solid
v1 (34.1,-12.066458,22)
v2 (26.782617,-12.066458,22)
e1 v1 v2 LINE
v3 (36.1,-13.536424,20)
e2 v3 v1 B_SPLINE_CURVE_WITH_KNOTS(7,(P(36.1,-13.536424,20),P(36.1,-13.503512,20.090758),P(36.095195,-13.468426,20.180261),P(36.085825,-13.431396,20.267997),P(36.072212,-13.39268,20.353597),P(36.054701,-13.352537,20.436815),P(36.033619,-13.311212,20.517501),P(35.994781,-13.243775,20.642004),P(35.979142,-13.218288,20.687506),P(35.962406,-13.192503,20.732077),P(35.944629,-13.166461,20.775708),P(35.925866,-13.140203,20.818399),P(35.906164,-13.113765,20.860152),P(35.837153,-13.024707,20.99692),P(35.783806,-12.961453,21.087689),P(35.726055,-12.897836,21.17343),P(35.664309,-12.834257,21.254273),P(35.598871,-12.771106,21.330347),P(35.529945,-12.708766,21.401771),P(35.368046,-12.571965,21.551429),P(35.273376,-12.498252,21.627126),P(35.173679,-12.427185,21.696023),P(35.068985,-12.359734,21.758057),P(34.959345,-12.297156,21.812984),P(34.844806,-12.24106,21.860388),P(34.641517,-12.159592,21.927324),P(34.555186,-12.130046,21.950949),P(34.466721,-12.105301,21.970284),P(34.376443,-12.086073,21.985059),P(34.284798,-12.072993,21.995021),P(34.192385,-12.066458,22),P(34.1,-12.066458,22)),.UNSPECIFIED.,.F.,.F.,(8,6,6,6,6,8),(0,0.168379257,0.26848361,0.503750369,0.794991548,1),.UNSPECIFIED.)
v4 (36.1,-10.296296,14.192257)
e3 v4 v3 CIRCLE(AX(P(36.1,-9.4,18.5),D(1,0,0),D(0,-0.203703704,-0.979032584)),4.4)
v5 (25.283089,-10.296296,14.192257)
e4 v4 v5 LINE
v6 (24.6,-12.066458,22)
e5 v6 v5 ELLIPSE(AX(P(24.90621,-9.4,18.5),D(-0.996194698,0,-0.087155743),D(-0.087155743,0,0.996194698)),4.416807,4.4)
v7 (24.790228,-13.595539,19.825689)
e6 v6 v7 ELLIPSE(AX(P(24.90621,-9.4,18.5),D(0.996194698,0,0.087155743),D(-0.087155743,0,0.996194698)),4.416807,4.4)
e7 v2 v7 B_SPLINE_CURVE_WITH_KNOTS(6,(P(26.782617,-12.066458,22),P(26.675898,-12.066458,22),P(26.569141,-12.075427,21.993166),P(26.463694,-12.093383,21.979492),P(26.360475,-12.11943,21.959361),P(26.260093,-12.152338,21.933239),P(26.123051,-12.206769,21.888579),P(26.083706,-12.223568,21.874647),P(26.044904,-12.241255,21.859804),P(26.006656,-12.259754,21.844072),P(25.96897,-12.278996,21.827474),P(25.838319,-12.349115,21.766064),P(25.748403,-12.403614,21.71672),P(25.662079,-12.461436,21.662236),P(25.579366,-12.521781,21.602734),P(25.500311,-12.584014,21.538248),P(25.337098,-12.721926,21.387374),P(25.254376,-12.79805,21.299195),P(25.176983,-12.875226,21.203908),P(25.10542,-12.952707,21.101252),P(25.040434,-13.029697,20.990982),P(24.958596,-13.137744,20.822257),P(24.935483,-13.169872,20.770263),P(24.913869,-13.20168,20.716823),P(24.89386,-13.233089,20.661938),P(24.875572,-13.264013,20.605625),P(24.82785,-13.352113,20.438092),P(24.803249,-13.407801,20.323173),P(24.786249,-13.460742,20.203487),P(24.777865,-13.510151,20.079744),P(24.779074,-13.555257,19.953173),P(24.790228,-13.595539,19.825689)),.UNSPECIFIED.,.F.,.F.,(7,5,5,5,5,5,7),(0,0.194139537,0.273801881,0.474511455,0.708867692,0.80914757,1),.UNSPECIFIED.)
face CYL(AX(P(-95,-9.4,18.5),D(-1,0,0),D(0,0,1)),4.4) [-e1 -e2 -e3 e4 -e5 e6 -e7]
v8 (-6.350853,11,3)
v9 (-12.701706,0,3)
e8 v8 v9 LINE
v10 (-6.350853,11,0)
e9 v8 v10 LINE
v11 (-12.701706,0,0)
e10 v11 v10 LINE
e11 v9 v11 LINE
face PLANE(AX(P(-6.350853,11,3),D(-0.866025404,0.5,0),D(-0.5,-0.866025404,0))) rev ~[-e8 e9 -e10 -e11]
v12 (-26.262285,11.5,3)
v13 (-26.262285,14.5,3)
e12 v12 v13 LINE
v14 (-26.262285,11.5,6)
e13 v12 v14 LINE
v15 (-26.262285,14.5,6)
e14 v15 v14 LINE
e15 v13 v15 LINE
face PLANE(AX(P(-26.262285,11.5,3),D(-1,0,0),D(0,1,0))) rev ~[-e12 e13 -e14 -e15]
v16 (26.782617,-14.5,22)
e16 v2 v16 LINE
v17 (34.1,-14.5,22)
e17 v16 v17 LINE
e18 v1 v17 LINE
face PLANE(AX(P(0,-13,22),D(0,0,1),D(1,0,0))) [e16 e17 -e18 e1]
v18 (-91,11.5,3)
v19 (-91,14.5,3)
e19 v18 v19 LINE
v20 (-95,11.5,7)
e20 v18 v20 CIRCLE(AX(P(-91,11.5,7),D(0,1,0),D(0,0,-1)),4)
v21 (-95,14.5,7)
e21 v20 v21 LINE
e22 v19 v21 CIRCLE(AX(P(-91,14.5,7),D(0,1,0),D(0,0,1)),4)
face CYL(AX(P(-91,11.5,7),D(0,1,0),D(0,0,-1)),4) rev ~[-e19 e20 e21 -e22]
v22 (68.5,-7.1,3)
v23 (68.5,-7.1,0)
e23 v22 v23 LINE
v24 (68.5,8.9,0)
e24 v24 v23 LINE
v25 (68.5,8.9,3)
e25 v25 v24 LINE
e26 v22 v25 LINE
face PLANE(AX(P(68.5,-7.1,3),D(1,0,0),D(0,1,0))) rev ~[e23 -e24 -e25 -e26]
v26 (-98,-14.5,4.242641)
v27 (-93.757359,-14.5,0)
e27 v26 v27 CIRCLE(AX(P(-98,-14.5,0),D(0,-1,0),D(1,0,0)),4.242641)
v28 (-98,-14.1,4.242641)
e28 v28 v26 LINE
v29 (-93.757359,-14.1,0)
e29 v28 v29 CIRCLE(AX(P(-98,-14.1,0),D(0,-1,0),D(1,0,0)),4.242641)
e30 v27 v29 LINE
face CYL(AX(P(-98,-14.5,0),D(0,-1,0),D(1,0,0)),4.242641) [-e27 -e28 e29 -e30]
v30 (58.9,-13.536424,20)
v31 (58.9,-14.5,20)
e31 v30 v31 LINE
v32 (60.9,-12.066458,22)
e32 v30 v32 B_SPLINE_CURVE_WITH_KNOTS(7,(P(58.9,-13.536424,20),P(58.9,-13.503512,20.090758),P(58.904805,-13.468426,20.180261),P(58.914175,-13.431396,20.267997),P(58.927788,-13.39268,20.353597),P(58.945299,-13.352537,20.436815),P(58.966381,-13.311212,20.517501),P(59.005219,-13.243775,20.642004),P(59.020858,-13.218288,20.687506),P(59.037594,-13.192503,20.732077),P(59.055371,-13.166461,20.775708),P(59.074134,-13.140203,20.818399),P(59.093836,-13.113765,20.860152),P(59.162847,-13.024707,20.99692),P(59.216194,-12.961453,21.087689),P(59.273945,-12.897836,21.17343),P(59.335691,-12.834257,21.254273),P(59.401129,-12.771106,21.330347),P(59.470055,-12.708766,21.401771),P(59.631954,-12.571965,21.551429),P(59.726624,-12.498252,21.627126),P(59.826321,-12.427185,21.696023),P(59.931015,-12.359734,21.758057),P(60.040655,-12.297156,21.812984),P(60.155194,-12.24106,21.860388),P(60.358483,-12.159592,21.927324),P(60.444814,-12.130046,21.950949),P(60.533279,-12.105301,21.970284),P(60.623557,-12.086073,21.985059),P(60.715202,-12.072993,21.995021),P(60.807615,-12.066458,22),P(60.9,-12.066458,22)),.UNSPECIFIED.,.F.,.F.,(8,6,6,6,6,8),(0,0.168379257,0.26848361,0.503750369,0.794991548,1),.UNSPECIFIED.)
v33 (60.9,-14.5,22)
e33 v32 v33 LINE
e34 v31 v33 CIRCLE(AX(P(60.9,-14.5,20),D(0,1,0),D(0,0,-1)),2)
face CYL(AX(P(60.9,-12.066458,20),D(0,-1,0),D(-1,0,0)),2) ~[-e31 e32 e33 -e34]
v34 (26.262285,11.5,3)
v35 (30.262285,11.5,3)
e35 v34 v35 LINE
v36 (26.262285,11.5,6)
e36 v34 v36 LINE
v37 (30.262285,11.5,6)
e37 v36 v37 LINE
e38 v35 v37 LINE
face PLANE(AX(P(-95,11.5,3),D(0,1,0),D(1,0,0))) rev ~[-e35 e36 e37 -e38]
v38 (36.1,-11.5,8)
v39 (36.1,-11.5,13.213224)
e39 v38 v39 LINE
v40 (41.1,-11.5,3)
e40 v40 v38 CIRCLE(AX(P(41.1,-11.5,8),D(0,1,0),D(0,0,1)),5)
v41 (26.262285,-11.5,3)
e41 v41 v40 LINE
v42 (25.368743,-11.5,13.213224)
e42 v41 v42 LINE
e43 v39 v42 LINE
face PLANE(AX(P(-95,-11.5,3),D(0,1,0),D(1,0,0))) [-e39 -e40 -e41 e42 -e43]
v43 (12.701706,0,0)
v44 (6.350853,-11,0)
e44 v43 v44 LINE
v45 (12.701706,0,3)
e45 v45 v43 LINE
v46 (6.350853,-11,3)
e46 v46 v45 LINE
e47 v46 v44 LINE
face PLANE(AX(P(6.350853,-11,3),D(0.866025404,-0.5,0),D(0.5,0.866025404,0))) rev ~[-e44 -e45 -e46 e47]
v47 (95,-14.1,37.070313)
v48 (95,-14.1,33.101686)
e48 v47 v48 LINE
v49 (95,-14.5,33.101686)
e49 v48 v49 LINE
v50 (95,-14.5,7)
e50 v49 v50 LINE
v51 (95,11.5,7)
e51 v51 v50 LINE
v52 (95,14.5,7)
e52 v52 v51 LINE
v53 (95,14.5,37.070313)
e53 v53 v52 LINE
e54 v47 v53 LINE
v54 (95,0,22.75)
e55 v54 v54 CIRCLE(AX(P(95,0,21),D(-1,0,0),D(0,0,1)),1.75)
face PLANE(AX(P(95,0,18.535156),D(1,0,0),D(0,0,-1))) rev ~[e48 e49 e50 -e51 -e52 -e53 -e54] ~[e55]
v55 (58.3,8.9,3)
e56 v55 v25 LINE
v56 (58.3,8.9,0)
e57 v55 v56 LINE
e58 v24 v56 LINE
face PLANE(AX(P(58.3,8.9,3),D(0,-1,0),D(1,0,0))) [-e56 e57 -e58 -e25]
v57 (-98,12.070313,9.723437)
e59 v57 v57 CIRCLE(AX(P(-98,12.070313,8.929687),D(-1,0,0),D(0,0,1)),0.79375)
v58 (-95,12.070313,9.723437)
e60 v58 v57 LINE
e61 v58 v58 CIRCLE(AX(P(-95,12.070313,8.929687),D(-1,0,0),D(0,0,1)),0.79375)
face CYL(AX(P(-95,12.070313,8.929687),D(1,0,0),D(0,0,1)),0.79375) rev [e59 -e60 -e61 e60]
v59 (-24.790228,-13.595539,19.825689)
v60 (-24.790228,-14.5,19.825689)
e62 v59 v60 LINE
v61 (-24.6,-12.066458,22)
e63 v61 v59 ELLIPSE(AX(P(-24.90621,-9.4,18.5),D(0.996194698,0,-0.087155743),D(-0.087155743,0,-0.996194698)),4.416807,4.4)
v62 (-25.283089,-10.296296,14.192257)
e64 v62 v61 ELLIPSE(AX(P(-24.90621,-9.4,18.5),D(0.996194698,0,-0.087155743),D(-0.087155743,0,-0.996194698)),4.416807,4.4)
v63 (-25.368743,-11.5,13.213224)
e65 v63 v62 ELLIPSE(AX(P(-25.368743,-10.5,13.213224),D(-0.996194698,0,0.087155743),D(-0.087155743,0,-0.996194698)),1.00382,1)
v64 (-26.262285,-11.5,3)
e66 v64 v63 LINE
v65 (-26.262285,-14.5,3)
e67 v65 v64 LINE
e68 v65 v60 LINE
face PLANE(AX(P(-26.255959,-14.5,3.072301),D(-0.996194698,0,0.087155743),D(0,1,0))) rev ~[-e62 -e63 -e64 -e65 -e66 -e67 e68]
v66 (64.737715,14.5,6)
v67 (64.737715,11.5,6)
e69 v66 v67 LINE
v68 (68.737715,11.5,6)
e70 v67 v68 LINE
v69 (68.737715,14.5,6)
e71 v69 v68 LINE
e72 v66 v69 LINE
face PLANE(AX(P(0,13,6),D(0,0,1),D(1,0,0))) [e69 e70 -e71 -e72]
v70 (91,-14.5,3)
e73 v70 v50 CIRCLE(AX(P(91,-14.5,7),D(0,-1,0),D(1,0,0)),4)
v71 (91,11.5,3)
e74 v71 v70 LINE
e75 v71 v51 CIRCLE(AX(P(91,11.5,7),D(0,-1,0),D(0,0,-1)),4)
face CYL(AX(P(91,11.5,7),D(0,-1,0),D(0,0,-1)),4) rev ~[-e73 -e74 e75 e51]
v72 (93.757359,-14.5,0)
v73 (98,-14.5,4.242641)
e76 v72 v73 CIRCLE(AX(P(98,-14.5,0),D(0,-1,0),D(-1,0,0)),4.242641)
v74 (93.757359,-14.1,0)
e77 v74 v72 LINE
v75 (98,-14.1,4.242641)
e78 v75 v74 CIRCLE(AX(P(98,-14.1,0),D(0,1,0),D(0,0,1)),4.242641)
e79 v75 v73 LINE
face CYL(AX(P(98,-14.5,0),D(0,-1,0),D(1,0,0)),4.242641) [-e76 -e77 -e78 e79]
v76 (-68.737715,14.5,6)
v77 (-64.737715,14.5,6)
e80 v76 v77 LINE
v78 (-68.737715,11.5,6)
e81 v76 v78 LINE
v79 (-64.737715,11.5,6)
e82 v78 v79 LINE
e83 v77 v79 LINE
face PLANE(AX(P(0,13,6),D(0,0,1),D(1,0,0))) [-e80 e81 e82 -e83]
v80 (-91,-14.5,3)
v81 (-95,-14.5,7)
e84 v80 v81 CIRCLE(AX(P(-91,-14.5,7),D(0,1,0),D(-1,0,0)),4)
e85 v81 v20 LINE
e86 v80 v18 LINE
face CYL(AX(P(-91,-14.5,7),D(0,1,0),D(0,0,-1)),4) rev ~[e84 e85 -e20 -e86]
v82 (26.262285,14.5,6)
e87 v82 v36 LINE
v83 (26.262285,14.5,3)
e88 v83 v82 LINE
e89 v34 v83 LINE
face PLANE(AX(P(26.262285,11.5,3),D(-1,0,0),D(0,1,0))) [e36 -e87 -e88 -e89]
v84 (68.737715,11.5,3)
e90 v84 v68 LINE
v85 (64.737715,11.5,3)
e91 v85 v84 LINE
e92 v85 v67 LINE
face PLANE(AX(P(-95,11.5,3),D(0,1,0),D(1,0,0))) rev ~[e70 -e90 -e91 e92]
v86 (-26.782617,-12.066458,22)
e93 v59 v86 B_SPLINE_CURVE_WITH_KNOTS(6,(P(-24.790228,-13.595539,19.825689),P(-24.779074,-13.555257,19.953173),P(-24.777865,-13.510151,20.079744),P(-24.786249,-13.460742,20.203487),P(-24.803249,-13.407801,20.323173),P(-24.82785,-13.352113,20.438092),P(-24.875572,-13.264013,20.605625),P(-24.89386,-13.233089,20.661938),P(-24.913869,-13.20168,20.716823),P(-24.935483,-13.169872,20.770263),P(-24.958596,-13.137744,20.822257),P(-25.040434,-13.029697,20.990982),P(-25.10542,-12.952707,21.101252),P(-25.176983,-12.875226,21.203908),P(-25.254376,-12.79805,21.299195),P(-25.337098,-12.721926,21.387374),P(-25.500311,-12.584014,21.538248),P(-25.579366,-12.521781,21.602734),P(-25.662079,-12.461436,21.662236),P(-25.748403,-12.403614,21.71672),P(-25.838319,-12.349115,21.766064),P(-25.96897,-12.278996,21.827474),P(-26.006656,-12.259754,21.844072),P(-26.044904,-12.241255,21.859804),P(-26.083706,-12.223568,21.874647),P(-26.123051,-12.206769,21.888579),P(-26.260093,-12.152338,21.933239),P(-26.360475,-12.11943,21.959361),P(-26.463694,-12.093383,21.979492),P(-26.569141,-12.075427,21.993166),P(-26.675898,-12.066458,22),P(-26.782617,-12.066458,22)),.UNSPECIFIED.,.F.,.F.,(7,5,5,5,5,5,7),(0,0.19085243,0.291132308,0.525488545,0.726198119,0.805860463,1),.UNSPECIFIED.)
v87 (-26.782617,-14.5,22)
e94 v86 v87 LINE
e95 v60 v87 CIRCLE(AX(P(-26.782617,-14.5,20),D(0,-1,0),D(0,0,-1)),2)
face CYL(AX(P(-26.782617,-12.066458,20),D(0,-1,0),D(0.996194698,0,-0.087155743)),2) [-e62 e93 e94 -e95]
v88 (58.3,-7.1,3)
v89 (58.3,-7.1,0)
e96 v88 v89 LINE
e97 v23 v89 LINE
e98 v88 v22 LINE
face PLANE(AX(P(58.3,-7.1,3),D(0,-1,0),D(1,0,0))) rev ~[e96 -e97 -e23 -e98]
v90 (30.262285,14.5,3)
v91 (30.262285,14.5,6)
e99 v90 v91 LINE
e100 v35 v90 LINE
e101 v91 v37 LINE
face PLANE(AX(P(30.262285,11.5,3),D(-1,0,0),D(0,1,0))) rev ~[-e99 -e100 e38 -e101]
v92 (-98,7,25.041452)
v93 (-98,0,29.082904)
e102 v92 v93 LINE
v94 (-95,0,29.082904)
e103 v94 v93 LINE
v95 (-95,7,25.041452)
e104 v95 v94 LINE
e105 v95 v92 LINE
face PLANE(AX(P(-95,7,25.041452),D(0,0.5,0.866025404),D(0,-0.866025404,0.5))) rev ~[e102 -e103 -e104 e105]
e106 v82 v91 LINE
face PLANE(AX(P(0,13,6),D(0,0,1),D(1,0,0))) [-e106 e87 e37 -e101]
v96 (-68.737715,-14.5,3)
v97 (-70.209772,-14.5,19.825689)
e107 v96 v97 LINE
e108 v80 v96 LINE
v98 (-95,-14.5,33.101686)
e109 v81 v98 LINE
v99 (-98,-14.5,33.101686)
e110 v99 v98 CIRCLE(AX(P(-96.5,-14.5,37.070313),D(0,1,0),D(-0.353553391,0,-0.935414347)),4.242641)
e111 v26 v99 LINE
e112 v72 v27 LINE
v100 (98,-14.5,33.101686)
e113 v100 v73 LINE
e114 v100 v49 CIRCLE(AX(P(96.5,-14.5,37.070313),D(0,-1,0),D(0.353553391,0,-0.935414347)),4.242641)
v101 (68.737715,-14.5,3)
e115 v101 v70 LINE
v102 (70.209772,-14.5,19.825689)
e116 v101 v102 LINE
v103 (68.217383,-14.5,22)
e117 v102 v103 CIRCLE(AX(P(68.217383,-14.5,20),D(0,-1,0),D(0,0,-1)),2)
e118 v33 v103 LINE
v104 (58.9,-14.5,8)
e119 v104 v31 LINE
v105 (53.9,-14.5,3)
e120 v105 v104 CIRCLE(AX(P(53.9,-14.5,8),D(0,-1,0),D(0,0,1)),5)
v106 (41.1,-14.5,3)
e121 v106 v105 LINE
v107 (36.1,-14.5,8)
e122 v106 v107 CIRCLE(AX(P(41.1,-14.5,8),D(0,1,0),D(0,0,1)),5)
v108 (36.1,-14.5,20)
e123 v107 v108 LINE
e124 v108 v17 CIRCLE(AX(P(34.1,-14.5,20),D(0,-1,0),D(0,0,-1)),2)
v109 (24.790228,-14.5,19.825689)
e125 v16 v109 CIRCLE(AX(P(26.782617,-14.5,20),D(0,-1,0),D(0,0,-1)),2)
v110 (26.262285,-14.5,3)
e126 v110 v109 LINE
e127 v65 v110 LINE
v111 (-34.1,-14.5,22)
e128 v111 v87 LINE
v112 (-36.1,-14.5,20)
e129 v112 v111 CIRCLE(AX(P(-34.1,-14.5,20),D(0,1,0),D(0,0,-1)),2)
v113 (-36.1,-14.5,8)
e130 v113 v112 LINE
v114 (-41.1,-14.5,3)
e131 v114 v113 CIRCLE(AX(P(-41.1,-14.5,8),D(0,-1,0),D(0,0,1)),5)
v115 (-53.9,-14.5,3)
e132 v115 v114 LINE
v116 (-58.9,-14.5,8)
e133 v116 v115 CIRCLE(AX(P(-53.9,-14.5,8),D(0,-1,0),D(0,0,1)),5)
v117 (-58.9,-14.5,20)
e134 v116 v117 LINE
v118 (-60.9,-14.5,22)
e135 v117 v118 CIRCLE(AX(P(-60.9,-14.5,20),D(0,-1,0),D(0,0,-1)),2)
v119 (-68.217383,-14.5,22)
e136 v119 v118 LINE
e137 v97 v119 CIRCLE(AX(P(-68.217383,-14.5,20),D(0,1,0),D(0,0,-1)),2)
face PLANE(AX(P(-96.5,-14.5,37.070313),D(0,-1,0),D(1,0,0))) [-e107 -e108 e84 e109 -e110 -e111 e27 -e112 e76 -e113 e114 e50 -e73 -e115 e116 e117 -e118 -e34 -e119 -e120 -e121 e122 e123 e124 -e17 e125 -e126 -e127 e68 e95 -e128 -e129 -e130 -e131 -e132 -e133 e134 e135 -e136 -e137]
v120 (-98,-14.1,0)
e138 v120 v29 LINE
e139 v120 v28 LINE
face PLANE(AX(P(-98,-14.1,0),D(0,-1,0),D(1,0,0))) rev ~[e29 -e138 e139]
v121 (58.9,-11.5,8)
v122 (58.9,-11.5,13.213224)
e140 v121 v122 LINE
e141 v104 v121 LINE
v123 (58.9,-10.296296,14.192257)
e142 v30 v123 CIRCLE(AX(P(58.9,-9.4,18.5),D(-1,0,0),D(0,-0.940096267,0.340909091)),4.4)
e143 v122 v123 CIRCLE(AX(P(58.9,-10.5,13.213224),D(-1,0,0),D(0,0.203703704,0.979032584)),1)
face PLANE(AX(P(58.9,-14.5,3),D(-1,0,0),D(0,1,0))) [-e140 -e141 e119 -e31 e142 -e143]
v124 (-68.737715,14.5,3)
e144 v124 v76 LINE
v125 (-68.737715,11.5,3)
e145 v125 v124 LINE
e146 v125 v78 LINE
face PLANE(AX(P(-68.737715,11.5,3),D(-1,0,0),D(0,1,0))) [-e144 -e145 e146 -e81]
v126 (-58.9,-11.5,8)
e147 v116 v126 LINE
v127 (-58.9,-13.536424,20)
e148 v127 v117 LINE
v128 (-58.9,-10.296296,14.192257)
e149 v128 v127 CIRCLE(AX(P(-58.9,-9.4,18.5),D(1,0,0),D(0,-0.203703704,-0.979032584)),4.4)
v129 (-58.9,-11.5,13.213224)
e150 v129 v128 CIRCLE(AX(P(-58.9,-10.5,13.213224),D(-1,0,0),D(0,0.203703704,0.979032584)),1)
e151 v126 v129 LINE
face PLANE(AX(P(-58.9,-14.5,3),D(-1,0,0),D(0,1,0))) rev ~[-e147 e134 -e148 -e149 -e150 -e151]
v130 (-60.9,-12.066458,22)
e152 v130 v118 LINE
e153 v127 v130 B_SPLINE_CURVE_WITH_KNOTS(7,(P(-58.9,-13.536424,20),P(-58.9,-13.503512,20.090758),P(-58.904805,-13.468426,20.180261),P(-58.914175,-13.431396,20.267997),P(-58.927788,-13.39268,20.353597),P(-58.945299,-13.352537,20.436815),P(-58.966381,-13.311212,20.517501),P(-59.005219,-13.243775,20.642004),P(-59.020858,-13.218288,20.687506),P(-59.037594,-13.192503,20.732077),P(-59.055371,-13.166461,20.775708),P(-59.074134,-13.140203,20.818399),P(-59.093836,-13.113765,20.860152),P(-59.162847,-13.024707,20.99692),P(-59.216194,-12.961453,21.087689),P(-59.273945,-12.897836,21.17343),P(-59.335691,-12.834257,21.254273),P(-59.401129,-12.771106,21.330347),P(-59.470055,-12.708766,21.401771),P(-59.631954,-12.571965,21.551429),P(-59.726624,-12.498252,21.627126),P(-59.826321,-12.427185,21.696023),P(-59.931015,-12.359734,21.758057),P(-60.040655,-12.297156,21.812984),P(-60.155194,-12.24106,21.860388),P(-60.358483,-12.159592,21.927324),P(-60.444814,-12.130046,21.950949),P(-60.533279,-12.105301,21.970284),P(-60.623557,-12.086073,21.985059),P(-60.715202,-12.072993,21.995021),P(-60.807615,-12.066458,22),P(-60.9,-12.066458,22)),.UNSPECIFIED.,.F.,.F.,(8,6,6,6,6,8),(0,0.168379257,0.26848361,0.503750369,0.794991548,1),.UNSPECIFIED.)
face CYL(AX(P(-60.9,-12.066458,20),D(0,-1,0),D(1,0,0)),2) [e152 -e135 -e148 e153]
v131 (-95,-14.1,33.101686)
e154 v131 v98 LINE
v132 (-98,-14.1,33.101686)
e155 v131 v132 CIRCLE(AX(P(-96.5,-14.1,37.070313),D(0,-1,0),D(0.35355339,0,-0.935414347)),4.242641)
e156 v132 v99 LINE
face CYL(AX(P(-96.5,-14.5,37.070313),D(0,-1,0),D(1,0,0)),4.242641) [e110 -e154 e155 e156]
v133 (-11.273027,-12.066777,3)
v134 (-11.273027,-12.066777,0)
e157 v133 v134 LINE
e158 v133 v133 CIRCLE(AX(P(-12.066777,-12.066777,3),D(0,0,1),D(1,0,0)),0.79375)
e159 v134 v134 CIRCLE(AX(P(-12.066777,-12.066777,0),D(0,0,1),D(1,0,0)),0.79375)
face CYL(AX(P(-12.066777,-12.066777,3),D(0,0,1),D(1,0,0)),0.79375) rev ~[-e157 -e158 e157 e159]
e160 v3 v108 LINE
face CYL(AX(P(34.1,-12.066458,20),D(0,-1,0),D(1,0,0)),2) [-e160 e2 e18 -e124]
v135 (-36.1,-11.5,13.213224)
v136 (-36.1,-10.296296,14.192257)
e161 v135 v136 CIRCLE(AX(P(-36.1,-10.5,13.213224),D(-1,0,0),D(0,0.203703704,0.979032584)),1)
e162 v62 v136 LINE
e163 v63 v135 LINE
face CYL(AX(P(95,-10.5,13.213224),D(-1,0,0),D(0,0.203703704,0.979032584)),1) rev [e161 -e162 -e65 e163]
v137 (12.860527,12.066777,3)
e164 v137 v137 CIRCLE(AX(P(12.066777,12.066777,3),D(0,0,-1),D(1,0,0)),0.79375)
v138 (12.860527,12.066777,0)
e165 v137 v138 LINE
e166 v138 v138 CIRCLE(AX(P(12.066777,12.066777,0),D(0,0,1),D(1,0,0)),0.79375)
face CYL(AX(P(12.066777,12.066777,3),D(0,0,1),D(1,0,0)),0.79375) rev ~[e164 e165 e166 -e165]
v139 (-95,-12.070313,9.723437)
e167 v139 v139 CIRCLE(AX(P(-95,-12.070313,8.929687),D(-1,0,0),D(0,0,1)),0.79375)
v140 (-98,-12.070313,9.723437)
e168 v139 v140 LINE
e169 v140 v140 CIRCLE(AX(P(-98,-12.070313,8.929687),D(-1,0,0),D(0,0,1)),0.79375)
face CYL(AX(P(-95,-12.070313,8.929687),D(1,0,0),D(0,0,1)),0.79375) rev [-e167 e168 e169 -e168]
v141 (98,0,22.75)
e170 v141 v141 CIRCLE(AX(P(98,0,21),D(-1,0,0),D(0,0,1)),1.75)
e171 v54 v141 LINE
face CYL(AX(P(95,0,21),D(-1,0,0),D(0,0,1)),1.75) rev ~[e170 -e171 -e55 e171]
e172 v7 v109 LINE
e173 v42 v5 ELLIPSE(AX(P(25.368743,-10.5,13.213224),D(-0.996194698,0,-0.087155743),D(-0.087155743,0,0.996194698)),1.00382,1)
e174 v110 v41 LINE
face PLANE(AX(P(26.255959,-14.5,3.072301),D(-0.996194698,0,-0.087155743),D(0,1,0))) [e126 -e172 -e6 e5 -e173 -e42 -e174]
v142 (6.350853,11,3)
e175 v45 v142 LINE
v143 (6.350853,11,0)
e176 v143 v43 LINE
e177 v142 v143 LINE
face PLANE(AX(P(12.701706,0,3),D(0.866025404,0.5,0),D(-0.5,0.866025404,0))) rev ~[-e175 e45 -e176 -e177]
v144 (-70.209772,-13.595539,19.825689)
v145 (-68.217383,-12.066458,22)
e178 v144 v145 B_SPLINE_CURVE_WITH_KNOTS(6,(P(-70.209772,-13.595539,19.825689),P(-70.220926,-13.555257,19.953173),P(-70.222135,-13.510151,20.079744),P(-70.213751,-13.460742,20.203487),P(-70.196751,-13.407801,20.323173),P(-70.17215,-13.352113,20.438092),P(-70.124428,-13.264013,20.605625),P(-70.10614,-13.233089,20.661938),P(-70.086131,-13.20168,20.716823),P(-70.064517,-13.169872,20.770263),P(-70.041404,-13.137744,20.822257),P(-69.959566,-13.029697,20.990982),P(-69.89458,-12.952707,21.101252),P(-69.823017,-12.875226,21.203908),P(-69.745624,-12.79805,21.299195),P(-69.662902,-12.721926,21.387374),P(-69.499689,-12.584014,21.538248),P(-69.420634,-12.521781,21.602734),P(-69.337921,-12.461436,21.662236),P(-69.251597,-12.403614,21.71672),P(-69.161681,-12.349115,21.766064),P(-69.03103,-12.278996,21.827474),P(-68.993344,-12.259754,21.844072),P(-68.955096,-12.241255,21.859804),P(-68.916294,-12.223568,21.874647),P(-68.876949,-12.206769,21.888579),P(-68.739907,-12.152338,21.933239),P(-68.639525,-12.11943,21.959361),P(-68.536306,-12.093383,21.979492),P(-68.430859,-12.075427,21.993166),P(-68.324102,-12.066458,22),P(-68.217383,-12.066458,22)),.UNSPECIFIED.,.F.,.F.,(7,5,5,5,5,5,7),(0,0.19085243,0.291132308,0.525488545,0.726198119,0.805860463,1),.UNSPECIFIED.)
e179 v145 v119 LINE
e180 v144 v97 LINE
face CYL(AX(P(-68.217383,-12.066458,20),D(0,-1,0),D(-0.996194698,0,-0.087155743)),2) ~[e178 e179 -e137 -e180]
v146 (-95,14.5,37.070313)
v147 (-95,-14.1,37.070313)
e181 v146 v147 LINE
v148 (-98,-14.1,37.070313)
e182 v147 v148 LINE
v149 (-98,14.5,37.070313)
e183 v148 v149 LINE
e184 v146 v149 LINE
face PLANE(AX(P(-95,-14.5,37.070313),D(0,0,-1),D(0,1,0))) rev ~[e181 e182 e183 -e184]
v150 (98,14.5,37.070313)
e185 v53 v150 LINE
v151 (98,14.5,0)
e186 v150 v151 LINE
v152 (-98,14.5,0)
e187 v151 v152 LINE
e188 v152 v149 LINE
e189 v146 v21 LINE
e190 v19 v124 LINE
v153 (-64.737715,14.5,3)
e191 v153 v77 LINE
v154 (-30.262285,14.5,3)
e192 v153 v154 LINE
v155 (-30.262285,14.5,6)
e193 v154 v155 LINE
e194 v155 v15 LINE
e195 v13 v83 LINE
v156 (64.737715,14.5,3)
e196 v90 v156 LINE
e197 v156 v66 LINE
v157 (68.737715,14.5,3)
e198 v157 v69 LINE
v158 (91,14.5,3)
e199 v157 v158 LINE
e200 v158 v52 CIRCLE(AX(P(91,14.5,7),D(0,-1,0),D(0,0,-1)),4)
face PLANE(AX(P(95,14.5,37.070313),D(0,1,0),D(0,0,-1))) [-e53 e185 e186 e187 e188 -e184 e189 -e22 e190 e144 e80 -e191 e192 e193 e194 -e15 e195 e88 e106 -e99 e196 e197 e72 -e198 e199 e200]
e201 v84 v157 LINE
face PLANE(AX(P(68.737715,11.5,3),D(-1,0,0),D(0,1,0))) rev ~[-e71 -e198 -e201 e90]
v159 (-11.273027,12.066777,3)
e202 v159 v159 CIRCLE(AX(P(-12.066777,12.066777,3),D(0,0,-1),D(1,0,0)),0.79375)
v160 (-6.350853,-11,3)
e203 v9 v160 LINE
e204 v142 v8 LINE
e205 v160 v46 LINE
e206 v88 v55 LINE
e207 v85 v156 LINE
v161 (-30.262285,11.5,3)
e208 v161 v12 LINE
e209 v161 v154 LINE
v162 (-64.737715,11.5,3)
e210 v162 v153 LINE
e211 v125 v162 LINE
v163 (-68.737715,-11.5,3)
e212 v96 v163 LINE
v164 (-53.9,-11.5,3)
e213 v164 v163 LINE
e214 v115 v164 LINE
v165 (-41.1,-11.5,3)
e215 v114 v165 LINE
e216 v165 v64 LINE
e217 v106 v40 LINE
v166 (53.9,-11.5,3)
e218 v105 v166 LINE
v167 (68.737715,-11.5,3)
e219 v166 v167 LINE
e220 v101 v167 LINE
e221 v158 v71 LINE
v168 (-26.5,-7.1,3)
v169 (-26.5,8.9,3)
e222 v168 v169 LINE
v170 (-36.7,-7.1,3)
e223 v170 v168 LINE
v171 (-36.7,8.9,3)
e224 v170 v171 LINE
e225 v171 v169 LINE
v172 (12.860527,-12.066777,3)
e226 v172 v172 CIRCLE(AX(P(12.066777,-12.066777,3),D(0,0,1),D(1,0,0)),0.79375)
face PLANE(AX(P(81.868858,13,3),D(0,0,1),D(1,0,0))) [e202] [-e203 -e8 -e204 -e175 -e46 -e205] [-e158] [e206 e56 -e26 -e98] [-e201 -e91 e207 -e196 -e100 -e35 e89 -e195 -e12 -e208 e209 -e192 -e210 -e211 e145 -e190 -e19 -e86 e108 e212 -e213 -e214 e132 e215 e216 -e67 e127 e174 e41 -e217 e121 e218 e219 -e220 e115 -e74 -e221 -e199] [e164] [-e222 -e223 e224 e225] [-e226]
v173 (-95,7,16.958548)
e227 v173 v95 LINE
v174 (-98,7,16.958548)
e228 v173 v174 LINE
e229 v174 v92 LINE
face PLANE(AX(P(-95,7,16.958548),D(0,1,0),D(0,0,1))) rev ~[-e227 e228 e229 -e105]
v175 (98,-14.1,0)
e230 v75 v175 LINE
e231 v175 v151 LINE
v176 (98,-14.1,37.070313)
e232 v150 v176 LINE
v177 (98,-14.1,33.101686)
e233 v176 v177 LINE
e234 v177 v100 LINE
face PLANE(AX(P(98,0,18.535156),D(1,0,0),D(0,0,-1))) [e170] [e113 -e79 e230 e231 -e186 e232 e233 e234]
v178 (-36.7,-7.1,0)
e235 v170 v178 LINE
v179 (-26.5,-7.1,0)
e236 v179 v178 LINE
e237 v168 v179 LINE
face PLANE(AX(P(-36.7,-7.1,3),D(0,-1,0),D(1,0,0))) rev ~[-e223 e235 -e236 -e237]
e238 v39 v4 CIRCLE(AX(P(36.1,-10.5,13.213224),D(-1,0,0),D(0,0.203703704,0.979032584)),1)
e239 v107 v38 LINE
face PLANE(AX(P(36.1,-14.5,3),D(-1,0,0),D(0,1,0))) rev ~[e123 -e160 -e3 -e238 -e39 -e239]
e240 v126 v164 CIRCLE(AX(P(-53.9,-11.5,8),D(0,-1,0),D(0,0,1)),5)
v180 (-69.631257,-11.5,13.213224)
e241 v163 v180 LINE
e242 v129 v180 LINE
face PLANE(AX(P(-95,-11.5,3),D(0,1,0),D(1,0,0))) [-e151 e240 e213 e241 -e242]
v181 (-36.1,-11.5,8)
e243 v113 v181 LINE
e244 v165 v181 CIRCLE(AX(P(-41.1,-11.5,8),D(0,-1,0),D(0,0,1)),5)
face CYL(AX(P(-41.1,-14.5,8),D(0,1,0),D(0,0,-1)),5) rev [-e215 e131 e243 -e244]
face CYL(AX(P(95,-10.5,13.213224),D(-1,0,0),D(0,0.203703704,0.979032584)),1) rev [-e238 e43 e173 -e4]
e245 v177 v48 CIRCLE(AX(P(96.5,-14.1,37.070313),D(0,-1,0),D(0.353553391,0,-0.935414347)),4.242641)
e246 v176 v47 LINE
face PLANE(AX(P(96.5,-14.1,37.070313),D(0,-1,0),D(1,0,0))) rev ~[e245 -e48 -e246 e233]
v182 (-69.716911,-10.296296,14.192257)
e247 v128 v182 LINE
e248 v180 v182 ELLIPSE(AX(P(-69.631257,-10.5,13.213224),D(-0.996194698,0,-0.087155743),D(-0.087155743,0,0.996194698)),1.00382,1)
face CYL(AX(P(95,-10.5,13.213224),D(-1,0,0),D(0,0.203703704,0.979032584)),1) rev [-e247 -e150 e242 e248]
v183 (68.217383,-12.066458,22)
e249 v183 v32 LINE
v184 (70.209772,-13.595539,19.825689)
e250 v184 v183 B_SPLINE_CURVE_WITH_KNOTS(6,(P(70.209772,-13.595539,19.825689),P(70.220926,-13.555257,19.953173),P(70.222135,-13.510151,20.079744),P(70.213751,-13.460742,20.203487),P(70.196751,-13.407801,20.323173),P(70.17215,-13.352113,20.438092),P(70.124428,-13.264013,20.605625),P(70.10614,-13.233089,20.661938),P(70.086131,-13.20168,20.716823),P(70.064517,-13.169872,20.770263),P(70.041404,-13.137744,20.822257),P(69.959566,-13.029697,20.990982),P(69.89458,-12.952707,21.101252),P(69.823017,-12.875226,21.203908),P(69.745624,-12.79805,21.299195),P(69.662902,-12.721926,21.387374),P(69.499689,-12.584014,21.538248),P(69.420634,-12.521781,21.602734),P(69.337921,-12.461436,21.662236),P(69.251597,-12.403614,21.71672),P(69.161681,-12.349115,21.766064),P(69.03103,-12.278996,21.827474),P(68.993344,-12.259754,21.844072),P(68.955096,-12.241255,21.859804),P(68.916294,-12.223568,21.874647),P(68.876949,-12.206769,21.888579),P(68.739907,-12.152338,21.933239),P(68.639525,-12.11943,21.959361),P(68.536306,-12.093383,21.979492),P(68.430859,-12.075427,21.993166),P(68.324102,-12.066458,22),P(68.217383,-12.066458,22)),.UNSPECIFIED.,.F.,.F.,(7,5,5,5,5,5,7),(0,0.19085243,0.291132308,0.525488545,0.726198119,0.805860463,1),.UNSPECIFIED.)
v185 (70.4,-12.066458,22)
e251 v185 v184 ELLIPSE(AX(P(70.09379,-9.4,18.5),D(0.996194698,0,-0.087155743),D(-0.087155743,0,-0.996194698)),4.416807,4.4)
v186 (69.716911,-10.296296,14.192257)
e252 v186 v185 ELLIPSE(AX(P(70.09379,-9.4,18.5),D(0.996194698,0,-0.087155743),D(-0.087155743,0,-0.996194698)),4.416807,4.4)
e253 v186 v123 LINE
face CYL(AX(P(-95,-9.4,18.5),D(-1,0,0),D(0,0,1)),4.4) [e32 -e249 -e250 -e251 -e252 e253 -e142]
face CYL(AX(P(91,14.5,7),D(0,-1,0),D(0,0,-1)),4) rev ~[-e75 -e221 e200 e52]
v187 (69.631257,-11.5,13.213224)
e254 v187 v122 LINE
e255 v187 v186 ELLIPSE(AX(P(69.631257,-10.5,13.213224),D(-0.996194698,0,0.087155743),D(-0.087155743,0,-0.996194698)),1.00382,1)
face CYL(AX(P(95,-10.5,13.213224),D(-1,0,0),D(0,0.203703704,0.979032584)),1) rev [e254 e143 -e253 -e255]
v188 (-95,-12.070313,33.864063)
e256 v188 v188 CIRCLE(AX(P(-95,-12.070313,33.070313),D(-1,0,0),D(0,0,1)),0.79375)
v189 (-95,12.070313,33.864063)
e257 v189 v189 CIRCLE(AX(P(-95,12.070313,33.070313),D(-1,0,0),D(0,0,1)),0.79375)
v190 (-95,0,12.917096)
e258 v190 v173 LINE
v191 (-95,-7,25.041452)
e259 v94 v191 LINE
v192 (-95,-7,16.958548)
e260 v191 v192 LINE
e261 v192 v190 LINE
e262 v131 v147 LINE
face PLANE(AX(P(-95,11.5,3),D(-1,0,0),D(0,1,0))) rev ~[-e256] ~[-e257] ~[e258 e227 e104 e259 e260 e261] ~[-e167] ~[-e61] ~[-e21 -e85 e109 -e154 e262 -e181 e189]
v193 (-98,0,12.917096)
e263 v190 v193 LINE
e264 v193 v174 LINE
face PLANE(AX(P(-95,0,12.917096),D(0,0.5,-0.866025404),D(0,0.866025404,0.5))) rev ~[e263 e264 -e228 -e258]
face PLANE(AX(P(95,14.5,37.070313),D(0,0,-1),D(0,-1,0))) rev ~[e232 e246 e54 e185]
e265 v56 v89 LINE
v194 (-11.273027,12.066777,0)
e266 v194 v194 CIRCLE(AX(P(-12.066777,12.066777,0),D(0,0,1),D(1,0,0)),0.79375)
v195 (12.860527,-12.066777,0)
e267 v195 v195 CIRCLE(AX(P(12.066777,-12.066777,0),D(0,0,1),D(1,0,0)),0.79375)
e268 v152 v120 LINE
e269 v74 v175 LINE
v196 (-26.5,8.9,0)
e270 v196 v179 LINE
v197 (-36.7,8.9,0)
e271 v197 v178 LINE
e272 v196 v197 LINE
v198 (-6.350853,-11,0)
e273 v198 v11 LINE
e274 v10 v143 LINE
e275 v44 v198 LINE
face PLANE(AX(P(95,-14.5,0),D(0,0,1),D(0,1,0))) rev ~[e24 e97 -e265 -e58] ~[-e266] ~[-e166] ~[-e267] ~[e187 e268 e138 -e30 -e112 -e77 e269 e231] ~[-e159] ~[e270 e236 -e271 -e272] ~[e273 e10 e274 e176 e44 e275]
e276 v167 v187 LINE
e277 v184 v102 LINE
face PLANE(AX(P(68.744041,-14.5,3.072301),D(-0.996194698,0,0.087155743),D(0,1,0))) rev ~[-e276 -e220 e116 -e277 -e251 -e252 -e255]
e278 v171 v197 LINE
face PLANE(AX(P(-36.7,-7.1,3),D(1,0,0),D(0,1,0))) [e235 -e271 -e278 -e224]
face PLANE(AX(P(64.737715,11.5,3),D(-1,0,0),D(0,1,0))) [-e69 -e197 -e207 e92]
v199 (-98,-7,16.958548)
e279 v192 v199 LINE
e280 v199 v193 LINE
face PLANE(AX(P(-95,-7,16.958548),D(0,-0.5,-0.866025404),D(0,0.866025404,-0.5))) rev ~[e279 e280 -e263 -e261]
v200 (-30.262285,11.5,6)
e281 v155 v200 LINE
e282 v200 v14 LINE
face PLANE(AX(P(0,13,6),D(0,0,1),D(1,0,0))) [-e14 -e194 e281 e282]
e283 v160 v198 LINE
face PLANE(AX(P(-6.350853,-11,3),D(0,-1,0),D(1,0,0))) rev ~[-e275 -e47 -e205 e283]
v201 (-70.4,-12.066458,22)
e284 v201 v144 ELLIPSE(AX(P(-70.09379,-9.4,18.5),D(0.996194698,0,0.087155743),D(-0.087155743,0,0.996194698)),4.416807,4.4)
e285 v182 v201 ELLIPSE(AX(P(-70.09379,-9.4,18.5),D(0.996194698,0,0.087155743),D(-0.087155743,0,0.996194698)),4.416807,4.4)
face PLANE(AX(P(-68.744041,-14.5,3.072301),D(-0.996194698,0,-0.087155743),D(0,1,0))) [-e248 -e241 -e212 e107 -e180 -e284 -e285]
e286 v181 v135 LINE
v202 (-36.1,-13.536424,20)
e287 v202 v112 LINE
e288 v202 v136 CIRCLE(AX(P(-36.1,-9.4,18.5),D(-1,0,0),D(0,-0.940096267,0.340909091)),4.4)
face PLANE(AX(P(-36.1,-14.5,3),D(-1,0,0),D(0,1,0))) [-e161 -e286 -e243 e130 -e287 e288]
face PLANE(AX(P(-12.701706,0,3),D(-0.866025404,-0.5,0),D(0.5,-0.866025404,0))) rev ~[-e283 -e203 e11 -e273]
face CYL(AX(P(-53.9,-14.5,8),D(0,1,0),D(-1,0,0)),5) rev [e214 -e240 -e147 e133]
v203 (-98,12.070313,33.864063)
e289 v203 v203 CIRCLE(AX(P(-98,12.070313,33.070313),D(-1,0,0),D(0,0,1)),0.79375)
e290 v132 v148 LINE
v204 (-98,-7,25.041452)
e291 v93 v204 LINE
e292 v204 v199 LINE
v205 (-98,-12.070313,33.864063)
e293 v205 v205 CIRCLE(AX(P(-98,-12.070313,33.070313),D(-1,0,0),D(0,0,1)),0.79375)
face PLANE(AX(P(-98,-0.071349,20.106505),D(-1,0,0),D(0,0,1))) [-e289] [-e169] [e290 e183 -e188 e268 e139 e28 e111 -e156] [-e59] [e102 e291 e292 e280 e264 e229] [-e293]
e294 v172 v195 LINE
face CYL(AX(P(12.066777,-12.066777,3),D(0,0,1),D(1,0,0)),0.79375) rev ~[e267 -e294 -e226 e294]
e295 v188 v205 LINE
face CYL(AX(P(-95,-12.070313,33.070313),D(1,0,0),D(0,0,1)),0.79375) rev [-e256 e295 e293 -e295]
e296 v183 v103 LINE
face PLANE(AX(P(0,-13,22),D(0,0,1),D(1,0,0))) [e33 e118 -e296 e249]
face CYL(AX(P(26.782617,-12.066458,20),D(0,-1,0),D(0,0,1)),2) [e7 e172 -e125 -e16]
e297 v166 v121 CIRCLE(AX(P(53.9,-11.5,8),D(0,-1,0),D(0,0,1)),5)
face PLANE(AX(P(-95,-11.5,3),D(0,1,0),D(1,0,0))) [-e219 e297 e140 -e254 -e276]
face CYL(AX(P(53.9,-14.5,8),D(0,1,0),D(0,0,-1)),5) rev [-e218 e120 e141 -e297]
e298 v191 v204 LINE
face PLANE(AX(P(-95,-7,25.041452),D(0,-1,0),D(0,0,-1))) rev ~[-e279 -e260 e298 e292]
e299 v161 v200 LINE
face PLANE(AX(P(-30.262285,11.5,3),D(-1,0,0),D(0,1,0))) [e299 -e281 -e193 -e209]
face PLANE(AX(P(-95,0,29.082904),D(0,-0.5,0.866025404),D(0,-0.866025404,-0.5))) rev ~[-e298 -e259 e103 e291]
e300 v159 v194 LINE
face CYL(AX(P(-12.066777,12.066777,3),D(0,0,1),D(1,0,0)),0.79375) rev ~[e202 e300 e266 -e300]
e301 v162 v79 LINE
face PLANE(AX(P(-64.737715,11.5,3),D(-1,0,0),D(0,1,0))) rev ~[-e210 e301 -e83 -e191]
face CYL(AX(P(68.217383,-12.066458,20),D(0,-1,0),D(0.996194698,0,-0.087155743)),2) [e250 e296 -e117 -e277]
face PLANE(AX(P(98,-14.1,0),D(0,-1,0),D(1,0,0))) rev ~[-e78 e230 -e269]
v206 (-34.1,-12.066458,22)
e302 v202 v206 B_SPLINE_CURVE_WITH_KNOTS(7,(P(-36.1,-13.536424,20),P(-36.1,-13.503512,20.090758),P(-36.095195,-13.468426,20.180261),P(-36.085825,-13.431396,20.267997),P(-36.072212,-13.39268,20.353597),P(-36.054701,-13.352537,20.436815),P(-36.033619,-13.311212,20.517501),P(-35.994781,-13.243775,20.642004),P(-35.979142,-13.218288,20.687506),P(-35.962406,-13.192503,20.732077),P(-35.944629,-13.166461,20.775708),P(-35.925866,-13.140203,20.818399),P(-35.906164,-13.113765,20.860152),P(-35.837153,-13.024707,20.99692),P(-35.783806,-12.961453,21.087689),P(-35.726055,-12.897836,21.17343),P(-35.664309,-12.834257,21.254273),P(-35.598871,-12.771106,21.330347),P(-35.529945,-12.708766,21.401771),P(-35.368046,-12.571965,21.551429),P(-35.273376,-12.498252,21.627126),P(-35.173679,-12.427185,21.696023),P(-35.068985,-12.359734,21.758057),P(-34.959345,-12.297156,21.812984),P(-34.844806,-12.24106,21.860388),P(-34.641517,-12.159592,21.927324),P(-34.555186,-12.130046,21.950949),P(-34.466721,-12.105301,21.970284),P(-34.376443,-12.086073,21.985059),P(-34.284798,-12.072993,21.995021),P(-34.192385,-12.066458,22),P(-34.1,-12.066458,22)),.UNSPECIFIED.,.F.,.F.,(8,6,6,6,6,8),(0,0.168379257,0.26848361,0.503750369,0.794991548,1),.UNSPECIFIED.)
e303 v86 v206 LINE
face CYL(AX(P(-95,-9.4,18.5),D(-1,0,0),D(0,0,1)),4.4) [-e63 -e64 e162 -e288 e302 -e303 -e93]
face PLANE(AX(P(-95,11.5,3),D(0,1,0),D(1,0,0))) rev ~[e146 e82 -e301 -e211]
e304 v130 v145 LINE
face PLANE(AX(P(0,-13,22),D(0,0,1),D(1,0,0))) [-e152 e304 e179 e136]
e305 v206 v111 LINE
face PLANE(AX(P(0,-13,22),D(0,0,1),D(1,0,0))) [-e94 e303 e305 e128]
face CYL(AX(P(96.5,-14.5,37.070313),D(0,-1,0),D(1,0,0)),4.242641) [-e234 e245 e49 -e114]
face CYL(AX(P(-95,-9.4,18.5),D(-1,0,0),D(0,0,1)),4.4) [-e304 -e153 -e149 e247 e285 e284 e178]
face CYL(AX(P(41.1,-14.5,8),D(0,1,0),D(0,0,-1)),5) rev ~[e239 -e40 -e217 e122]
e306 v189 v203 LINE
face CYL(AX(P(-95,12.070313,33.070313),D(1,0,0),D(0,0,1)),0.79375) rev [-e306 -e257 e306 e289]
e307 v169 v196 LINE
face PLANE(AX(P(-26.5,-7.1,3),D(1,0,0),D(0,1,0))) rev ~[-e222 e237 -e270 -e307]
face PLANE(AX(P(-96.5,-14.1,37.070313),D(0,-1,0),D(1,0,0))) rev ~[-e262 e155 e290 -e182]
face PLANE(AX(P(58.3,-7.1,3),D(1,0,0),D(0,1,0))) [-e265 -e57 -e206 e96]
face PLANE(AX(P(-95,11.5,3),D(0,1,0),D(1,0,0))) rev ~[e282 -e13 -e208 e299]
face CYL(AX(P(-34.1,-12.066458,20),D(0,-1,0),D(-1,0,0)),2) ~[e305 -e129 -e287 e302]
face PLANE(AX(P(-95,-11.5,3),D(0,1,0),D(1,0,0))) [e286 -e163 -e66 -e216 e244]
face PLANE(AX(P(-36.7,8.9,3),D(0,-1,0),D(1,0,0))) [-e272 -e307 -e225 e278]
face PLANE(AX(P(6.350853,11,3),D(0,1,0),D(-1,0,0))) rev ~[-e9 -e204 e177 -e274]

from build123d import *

# Parameters (mm, degrees)
SKETCH1_W           = 190
SKETCH1_H           = 29
BOSS_EXTRUDE1_DEPTH = 3
SKETCH2_W           = 190
SKETCH2_H           = 3
BOSS_EXTRUDE2_DEPTH = 3
SKETCH3_W           = 190
SKETCH3_H           = 3
BOSS_EXTRUDE3_DEPTH = 19
SKETCH4_R           = 4.4
BOSS_EXTRUDE4_DEPTH = 190
FILLET1_R           = 1
SKETCH5_W           = 24.6
SKETCH5_H           = 9.5
SKETCH5_W_2         = 22.8
SKETCH5_W_3         = 49.2
CUT_EXTRUDE1_DEPTH  = 99.13898308
CUT_EXTRUDE3_REACH  = 100.139
SKETCH8_R           = 0.79375
CUT_EXTRUDE4_REACH  = 100.139
SKETCH9_W           = 10.2
SKETCH9_H           = 16
DRAFT1_ANGLE        = -5
FILLET2_R           = 5
FILLET3_R           = 2
SKETCH10_R          = 0.79375
BOSS_EXTRUDE5_DEPTH = 3
BOSS_EXTRUDE8_START = -190
SKETCH10_3_R        = 1.75
BOSS_EXTRUDE8_DEPTH = 3
SKETCH12_W          = 26.262284607
SKETCH12_H          = 3
SKETCH12_W_2        = 34.475430786
SKETCH12_W_3        = 52.524569214
CUT_EXTRUDE5_DEPTH  = 105.761807039
SKETCH13_R          = 4.242640687
BOSS_EXTRUDE9_DEPTH = 0.4
FILLET4_R           = 4


with BuildPart() as part:
    # Sketch1 → Boss-Extrude1 (new body)
    with BuildSketch(Plane.XY):
        Rectangle(SKETCH1_W, SKETCH1_H)
    extrude(amount=BOSS_EXTRUDE1_DEPTH)

    # Sketch2 → Boss-Extrude2 (add)
    with BuildSketch(Plane.XY.offset(3)):
        with Locations((0, 13)):
            Rectangle(SKETCH2_W, SKETCH2_H)
    extrude(amount=BOSS_EXTRUDE2_DEPTH)

    # Sketch3 → Boss-Extrude3 (add)
    with BuildSketch(Plane.XY.offset(3)):
        with Locations((0, -13)):
            Rectangle(SKETCH3_W, SKETCH3_H)
    extrude(amount=BOSS_EXTRUDE3_DEPTH)

    # Sketch4 → Boss-Extrude4 (add)
    with BuildSketch(Plane.ZY.offset(95)):
        with Locations((18.5, -9.4)):
            Circle(SKETCH4_R)
    extrude(amount=-BOSS_EXTRUDE4_DEPTH)

    # Fillet1
    fillet1_edges = [part.edges().sort_by_distance(p)[0] for p in [
        (0, -11.5, 14.633477014),
    ]]
    fillet(fillet1_edges, radius=FILLET1_R)

    # Sketch5 → Cut-Extrude1 (cut, through all)
    with BuildSketch(Plane.XY.offset(3)):
        with Locations((-82.7, -9.75)):
            Rectangle(SKETCH5_W, SKETCH5_H)
        with Locations((-47.5, -9.75)):
            Rectangle(SKETCH5_W_2, SKETCH5_H)
        with Locations((0, -9.75)):
            Rectangle(SKETCH5_W_3, SKETCH5_H)
        with Locations((47.5, -9.75)):
            Rectangle(SKETCH5_W_2, SKETCH5_H)
        with Locations((82.7, -9.75)):
            Rectangle(SKETCH5_W, SKETCH5_H)
    extrude(amount=CUT_EXTRUDE1_DEPTH, mode=Mode.SUBTRACT)

    # Sketch8 → Cut-Extrude3 (cut, up to next)
    with BuildSketch(Plane.XY.offset(3), mode=Mode.PRIVATE) as cut_extrude3_sk1:
        with Locations((-12.066777221, -12.066777221)):
            Circle(SKETCH8_R)
    cut_extrude3_tool1 = extrude(cut_extrude3_sk1.sketch, amount=-CUT_EXTRUDE3_REACH, mode=Mode.PRIVATE) & part.part
    # Sketch8 → Cut-Extrude3 (cut, up to next)
    with BuildSketch(Plane.XY.offset(3), mode=Mode.PRIVATE) as cut_extrude3_sk2:
        with Locations((-12.066777221, 12.066777221)):
            Circle(SKETCH8_R)
    cut_extrude3_tool2 = extrude(cut_extrude3_sk2.sketch, amount=-CUT_EXTRUDE3_REACH, mode=Mode.PRIVATE) & part.part
    # Sketch8 → Cut-Extrude3 (cut, up to next)
    with BuildSketch(Plane.XY.offset(3), mode=Mode.PRIVATE) as cut_extrude3_sk3:
        with Locations((12.066777221, 12.066777221)):
            Circle(SKETCH8_R)
    cut_extrude3_tool3 = extrude(cut_extrude3_sk3.sketch, amount=-CUT_EXTRUDE3_REACH, mode=Mode.PRIVATE) & part.part
    # Sketch8 → Cut-Extrude3 (cut, up to next)
    with BuildSketch(Plane.XY.offset(3), mode=Mode.PRIVATE) as cut_extrude3_sk4:
        with Locations((12.066777221, -12.066777221)):
            Circle(SKETCH8_R)
    cut_extrude3_tool4 = extrude(cut_extrude3_sk4.sketch, amount=-CUT_EXTRUDE3_REACH, mode=Mode.PRIVATE) & part.part
    # Sketch8 → Cut-Extrude3 (cut, up to next)
    with BuildSketch(Plane.XY.offset(3), mode=Mode.PRIVATE) as cut_extrude3_sk5:
        Polygon((6.350852961, -11), (12.701705922, 0), (6.350852961, 11), (-6.350852961, 11), (-12.701705922, 0), (-6.350852961, -11), align=None)
    cut_extrude3_tool5 = extrude(cut_extrude3_sk5.sketch, amount=-CUT_EXTRUDE3_REACH, mode=Mode.PRIVATE) & part.part
    add(cut_extrude3_tool1.solids().sort_by_distance((-12.066777, -12.066777, 3))[0], mode=Mode.SUBTRACT)
    add(cut_extrude3_tool2.solids().sort_by_distance((-12.066777, 12.066777, 3))[0], mode=Mode.SUBTRACT)
    add(cut_extrude3_tool3.solids().sort_by_distance((12.066777, 12.066777, 3))[0], mode=Mode.SUBTRACT)
    add(cut_extrude3_tool4.solids().sort_by_distance((12.066777, -12.066777, 3))[0], mode=Mode.SUBTRACT)
    add(cut_extrude3_tool5.solids().sort_by_distance((0, 0, 3))[0], mode=Mode.SUBTRACT)

    # Sketch9 → Cut-Extrude4 (cut, up to next)
    with BuildSketch(Plane.XY.offset(3), mode=Mode.PRIVATE) as cut_extrude4_sk1:
        with Locations((-31.6, 0.9)):
            Rectangle(SKETCH9_W, SKETCH9_H)
    cut_extrude4_tool1 = extrude(cut_extrude4_sk1.sketch, amount=-CUT_EXTRUDE4_REACH, mode=Mode.PRIVATE) & part.part
    # Sketch9 → Cut-Extrude4 (cut, up to next)
    with BuildSketch(Plane.XY.offset(3), mode=Mode.PRIVATE) as cut_extrude4_sk2:
        with Locations((63.4, 0.9)):
            Rectangle(SKETCH9_W, SKETCH9_H)
    cut_extrude4_tool2 = extrude(cut_extrude4_sk2.sketch, amount=-CUT_EXTRUDE4_REACH, mode=Mode.PRIVATE) & part.part
    add(cut_extrude4_tool1.solids().sort_by_distance((-31.6, 0.9, 3))[0], mode=Mode.SUBTRACT)
    add(cut_extrude4_tool2.solids().sort_by_distance((63.4, 0.9, 3))[0], mode=Mode.SUBTRACT)

    # Draft1
    draft1_faces = [part.faces().sort_by_distance(p)[0] for p in [
        (70.4, -10.986471989, 15.250758182),
        (24.6, -10.986471989, 15.250758182),
        (-24.6, -10.986471989, 15.250758182),
        (-70.4, -10.986471989, 15.250758182),
    ]]
    draft(draft1_faces, Plane.XY.offset(22), DRAFT1_ANGLE)

    # Fillet2
    fillet2_edges = [part.edges().sort_by_distance(p)[0] for p in [
        (-58.9, -13, 3),
        (-36.1, -13, 3),
        (58.9, -13, 3),
        (36.1, -13, 3),
    ]]
    fillet(fillet2_edges, radius=FILLET2_R)

    # Fillet3
    fillet3_edges = [part.edges().sort_by_distance(p)[0] for p in [
        (-58.9, -13.283229163, 22),
        (-36.1, -13.283229163, 22),
        (-24.6, -13.283229163, 22),
        (24.6, -13.283229163, 22),
        (58.9, -13.283229163, 22),
        (36.1, -13.283229163, 22),
        (70.4, -13.283229163, 22),
        (-70.4, -13.283229163, 22),
    ]]
    fillet(fillet3_edges, radius=FILLET3_R)

    # Sketch10 → Boss-Extrude5 (add)
    # profile 1 of 2: a face of its own
    with BuildSketch(Plane.ZY.offset(95)):
        Polygon((8.929687245, 14.5), (6, 14.5), (6, 11.5), (3, 11.5), (3, -14.5), (37.070312755, -14.5), (37.070312755, 14.5), align=None)
        with Locations((8.929687245, -12.070312755)):
            Circle(SKETCH10_R, mode=Mode.SUBTRACT)
        with Locations((33.070312755, -12.070312755)):
            Circle(SKETCH10_R, mode=Mode.SUBTRACT)
        with Locations((8.929687245, 12.070312755)):
            Circle(SKETCH10_R, mode=Mode.SUBTRACT)
        Polygon((25.041451884, 7), (29.082903769, 0), (25.041451884, -7), (16.958548116, -7), (12.917096231, 0), (16.958548116, 7), align=None, mode=Mode.SUBTRACT)
        with Locations((33.070312755, 12.070312755)):
            Circle(SKETCH10_R, mode=Mode.SUBTRACT)
    # profile 2 of 2: a face of its own
    with BuildSketch(Plane.ZY.offset(95)):
        Polygon((0, 14.5), (0, -14.5), (3, -14.5), (3, 11.5), (6, 11.5), (6, 14.5), align=None)
    extrude(amount=BOSS_EXTRUDE5_DEPTH)

    # Sketch10<3> → Boss-Extrude8 (add)
    with BuildSketch(Plane.ZY.offset(95).offset(BOSS_EXTRUDE8_START)):
        Polygon((0, 14.5), (8.929687245, 14.5), (37.070312755, 14.5), (37.070312755, -14.5), (0, -14.5), align=None)
        with Locations((21, 0)):
            Circle(SKETCH10_3_R, mode=Mode.SUBTRACT)
    extrude(amount=-BOSS_EXTRUDE8_DEPTH)

    # Sketch12 → Cut-Extrude5 (cut, through all)
    with BuildSketch(Plane.XY.offset(3)):
        with Locations((-81.868857697, 13)):
            Rectangle(SKETCH12_W, SKETCH12_H)
        with Locations((-47.5, 13)):
            Rectangle(SKETCH12_W_2, SKETCH12_H)
        with Locations((0, 13)):
            Rectangle(SKETCH12_W_3, SKETCH12_H)
        with Locations((47.5, 13)):
            Rectangle(SKETCH12_W_2, SKETCH12_H)
        with Locations((81.868857697, 13)):
            Rectangle(SKETCH12_W, SKETCH12_H)
    extrude(amount=CUT_EXTRUDE5_DEPTH, mode=Mode.SUBTRACT)

    # Sketch13 → Boss-Extrude9 (add)
    with BuildSketch(Plane.XZ.offset(14.5)):
        with Locations((-96.5, 37.070312755)):
            Circle(SKETCH13_R)
        with Locations((96.5, 37.070312755)):
            Circle(SKETCH13_R)
        with Locations((98, 0)):
            Circle(SKETCH13_R)
        with Locations((-98, 0)):
            Circle(SKETCH13_R)
    extrude(amount=-BOSS_EXTRUDE9_DEPTH)

    # Fillet4
    fillet4_edges = [part.edges().sort_by_distance(p)[0] for p in [
        (95, 0, 3),
        (-95, 0, 3),
    ]]
    fillet(fillet4_edges, radius=FILLET4_R)


solid = part.part
